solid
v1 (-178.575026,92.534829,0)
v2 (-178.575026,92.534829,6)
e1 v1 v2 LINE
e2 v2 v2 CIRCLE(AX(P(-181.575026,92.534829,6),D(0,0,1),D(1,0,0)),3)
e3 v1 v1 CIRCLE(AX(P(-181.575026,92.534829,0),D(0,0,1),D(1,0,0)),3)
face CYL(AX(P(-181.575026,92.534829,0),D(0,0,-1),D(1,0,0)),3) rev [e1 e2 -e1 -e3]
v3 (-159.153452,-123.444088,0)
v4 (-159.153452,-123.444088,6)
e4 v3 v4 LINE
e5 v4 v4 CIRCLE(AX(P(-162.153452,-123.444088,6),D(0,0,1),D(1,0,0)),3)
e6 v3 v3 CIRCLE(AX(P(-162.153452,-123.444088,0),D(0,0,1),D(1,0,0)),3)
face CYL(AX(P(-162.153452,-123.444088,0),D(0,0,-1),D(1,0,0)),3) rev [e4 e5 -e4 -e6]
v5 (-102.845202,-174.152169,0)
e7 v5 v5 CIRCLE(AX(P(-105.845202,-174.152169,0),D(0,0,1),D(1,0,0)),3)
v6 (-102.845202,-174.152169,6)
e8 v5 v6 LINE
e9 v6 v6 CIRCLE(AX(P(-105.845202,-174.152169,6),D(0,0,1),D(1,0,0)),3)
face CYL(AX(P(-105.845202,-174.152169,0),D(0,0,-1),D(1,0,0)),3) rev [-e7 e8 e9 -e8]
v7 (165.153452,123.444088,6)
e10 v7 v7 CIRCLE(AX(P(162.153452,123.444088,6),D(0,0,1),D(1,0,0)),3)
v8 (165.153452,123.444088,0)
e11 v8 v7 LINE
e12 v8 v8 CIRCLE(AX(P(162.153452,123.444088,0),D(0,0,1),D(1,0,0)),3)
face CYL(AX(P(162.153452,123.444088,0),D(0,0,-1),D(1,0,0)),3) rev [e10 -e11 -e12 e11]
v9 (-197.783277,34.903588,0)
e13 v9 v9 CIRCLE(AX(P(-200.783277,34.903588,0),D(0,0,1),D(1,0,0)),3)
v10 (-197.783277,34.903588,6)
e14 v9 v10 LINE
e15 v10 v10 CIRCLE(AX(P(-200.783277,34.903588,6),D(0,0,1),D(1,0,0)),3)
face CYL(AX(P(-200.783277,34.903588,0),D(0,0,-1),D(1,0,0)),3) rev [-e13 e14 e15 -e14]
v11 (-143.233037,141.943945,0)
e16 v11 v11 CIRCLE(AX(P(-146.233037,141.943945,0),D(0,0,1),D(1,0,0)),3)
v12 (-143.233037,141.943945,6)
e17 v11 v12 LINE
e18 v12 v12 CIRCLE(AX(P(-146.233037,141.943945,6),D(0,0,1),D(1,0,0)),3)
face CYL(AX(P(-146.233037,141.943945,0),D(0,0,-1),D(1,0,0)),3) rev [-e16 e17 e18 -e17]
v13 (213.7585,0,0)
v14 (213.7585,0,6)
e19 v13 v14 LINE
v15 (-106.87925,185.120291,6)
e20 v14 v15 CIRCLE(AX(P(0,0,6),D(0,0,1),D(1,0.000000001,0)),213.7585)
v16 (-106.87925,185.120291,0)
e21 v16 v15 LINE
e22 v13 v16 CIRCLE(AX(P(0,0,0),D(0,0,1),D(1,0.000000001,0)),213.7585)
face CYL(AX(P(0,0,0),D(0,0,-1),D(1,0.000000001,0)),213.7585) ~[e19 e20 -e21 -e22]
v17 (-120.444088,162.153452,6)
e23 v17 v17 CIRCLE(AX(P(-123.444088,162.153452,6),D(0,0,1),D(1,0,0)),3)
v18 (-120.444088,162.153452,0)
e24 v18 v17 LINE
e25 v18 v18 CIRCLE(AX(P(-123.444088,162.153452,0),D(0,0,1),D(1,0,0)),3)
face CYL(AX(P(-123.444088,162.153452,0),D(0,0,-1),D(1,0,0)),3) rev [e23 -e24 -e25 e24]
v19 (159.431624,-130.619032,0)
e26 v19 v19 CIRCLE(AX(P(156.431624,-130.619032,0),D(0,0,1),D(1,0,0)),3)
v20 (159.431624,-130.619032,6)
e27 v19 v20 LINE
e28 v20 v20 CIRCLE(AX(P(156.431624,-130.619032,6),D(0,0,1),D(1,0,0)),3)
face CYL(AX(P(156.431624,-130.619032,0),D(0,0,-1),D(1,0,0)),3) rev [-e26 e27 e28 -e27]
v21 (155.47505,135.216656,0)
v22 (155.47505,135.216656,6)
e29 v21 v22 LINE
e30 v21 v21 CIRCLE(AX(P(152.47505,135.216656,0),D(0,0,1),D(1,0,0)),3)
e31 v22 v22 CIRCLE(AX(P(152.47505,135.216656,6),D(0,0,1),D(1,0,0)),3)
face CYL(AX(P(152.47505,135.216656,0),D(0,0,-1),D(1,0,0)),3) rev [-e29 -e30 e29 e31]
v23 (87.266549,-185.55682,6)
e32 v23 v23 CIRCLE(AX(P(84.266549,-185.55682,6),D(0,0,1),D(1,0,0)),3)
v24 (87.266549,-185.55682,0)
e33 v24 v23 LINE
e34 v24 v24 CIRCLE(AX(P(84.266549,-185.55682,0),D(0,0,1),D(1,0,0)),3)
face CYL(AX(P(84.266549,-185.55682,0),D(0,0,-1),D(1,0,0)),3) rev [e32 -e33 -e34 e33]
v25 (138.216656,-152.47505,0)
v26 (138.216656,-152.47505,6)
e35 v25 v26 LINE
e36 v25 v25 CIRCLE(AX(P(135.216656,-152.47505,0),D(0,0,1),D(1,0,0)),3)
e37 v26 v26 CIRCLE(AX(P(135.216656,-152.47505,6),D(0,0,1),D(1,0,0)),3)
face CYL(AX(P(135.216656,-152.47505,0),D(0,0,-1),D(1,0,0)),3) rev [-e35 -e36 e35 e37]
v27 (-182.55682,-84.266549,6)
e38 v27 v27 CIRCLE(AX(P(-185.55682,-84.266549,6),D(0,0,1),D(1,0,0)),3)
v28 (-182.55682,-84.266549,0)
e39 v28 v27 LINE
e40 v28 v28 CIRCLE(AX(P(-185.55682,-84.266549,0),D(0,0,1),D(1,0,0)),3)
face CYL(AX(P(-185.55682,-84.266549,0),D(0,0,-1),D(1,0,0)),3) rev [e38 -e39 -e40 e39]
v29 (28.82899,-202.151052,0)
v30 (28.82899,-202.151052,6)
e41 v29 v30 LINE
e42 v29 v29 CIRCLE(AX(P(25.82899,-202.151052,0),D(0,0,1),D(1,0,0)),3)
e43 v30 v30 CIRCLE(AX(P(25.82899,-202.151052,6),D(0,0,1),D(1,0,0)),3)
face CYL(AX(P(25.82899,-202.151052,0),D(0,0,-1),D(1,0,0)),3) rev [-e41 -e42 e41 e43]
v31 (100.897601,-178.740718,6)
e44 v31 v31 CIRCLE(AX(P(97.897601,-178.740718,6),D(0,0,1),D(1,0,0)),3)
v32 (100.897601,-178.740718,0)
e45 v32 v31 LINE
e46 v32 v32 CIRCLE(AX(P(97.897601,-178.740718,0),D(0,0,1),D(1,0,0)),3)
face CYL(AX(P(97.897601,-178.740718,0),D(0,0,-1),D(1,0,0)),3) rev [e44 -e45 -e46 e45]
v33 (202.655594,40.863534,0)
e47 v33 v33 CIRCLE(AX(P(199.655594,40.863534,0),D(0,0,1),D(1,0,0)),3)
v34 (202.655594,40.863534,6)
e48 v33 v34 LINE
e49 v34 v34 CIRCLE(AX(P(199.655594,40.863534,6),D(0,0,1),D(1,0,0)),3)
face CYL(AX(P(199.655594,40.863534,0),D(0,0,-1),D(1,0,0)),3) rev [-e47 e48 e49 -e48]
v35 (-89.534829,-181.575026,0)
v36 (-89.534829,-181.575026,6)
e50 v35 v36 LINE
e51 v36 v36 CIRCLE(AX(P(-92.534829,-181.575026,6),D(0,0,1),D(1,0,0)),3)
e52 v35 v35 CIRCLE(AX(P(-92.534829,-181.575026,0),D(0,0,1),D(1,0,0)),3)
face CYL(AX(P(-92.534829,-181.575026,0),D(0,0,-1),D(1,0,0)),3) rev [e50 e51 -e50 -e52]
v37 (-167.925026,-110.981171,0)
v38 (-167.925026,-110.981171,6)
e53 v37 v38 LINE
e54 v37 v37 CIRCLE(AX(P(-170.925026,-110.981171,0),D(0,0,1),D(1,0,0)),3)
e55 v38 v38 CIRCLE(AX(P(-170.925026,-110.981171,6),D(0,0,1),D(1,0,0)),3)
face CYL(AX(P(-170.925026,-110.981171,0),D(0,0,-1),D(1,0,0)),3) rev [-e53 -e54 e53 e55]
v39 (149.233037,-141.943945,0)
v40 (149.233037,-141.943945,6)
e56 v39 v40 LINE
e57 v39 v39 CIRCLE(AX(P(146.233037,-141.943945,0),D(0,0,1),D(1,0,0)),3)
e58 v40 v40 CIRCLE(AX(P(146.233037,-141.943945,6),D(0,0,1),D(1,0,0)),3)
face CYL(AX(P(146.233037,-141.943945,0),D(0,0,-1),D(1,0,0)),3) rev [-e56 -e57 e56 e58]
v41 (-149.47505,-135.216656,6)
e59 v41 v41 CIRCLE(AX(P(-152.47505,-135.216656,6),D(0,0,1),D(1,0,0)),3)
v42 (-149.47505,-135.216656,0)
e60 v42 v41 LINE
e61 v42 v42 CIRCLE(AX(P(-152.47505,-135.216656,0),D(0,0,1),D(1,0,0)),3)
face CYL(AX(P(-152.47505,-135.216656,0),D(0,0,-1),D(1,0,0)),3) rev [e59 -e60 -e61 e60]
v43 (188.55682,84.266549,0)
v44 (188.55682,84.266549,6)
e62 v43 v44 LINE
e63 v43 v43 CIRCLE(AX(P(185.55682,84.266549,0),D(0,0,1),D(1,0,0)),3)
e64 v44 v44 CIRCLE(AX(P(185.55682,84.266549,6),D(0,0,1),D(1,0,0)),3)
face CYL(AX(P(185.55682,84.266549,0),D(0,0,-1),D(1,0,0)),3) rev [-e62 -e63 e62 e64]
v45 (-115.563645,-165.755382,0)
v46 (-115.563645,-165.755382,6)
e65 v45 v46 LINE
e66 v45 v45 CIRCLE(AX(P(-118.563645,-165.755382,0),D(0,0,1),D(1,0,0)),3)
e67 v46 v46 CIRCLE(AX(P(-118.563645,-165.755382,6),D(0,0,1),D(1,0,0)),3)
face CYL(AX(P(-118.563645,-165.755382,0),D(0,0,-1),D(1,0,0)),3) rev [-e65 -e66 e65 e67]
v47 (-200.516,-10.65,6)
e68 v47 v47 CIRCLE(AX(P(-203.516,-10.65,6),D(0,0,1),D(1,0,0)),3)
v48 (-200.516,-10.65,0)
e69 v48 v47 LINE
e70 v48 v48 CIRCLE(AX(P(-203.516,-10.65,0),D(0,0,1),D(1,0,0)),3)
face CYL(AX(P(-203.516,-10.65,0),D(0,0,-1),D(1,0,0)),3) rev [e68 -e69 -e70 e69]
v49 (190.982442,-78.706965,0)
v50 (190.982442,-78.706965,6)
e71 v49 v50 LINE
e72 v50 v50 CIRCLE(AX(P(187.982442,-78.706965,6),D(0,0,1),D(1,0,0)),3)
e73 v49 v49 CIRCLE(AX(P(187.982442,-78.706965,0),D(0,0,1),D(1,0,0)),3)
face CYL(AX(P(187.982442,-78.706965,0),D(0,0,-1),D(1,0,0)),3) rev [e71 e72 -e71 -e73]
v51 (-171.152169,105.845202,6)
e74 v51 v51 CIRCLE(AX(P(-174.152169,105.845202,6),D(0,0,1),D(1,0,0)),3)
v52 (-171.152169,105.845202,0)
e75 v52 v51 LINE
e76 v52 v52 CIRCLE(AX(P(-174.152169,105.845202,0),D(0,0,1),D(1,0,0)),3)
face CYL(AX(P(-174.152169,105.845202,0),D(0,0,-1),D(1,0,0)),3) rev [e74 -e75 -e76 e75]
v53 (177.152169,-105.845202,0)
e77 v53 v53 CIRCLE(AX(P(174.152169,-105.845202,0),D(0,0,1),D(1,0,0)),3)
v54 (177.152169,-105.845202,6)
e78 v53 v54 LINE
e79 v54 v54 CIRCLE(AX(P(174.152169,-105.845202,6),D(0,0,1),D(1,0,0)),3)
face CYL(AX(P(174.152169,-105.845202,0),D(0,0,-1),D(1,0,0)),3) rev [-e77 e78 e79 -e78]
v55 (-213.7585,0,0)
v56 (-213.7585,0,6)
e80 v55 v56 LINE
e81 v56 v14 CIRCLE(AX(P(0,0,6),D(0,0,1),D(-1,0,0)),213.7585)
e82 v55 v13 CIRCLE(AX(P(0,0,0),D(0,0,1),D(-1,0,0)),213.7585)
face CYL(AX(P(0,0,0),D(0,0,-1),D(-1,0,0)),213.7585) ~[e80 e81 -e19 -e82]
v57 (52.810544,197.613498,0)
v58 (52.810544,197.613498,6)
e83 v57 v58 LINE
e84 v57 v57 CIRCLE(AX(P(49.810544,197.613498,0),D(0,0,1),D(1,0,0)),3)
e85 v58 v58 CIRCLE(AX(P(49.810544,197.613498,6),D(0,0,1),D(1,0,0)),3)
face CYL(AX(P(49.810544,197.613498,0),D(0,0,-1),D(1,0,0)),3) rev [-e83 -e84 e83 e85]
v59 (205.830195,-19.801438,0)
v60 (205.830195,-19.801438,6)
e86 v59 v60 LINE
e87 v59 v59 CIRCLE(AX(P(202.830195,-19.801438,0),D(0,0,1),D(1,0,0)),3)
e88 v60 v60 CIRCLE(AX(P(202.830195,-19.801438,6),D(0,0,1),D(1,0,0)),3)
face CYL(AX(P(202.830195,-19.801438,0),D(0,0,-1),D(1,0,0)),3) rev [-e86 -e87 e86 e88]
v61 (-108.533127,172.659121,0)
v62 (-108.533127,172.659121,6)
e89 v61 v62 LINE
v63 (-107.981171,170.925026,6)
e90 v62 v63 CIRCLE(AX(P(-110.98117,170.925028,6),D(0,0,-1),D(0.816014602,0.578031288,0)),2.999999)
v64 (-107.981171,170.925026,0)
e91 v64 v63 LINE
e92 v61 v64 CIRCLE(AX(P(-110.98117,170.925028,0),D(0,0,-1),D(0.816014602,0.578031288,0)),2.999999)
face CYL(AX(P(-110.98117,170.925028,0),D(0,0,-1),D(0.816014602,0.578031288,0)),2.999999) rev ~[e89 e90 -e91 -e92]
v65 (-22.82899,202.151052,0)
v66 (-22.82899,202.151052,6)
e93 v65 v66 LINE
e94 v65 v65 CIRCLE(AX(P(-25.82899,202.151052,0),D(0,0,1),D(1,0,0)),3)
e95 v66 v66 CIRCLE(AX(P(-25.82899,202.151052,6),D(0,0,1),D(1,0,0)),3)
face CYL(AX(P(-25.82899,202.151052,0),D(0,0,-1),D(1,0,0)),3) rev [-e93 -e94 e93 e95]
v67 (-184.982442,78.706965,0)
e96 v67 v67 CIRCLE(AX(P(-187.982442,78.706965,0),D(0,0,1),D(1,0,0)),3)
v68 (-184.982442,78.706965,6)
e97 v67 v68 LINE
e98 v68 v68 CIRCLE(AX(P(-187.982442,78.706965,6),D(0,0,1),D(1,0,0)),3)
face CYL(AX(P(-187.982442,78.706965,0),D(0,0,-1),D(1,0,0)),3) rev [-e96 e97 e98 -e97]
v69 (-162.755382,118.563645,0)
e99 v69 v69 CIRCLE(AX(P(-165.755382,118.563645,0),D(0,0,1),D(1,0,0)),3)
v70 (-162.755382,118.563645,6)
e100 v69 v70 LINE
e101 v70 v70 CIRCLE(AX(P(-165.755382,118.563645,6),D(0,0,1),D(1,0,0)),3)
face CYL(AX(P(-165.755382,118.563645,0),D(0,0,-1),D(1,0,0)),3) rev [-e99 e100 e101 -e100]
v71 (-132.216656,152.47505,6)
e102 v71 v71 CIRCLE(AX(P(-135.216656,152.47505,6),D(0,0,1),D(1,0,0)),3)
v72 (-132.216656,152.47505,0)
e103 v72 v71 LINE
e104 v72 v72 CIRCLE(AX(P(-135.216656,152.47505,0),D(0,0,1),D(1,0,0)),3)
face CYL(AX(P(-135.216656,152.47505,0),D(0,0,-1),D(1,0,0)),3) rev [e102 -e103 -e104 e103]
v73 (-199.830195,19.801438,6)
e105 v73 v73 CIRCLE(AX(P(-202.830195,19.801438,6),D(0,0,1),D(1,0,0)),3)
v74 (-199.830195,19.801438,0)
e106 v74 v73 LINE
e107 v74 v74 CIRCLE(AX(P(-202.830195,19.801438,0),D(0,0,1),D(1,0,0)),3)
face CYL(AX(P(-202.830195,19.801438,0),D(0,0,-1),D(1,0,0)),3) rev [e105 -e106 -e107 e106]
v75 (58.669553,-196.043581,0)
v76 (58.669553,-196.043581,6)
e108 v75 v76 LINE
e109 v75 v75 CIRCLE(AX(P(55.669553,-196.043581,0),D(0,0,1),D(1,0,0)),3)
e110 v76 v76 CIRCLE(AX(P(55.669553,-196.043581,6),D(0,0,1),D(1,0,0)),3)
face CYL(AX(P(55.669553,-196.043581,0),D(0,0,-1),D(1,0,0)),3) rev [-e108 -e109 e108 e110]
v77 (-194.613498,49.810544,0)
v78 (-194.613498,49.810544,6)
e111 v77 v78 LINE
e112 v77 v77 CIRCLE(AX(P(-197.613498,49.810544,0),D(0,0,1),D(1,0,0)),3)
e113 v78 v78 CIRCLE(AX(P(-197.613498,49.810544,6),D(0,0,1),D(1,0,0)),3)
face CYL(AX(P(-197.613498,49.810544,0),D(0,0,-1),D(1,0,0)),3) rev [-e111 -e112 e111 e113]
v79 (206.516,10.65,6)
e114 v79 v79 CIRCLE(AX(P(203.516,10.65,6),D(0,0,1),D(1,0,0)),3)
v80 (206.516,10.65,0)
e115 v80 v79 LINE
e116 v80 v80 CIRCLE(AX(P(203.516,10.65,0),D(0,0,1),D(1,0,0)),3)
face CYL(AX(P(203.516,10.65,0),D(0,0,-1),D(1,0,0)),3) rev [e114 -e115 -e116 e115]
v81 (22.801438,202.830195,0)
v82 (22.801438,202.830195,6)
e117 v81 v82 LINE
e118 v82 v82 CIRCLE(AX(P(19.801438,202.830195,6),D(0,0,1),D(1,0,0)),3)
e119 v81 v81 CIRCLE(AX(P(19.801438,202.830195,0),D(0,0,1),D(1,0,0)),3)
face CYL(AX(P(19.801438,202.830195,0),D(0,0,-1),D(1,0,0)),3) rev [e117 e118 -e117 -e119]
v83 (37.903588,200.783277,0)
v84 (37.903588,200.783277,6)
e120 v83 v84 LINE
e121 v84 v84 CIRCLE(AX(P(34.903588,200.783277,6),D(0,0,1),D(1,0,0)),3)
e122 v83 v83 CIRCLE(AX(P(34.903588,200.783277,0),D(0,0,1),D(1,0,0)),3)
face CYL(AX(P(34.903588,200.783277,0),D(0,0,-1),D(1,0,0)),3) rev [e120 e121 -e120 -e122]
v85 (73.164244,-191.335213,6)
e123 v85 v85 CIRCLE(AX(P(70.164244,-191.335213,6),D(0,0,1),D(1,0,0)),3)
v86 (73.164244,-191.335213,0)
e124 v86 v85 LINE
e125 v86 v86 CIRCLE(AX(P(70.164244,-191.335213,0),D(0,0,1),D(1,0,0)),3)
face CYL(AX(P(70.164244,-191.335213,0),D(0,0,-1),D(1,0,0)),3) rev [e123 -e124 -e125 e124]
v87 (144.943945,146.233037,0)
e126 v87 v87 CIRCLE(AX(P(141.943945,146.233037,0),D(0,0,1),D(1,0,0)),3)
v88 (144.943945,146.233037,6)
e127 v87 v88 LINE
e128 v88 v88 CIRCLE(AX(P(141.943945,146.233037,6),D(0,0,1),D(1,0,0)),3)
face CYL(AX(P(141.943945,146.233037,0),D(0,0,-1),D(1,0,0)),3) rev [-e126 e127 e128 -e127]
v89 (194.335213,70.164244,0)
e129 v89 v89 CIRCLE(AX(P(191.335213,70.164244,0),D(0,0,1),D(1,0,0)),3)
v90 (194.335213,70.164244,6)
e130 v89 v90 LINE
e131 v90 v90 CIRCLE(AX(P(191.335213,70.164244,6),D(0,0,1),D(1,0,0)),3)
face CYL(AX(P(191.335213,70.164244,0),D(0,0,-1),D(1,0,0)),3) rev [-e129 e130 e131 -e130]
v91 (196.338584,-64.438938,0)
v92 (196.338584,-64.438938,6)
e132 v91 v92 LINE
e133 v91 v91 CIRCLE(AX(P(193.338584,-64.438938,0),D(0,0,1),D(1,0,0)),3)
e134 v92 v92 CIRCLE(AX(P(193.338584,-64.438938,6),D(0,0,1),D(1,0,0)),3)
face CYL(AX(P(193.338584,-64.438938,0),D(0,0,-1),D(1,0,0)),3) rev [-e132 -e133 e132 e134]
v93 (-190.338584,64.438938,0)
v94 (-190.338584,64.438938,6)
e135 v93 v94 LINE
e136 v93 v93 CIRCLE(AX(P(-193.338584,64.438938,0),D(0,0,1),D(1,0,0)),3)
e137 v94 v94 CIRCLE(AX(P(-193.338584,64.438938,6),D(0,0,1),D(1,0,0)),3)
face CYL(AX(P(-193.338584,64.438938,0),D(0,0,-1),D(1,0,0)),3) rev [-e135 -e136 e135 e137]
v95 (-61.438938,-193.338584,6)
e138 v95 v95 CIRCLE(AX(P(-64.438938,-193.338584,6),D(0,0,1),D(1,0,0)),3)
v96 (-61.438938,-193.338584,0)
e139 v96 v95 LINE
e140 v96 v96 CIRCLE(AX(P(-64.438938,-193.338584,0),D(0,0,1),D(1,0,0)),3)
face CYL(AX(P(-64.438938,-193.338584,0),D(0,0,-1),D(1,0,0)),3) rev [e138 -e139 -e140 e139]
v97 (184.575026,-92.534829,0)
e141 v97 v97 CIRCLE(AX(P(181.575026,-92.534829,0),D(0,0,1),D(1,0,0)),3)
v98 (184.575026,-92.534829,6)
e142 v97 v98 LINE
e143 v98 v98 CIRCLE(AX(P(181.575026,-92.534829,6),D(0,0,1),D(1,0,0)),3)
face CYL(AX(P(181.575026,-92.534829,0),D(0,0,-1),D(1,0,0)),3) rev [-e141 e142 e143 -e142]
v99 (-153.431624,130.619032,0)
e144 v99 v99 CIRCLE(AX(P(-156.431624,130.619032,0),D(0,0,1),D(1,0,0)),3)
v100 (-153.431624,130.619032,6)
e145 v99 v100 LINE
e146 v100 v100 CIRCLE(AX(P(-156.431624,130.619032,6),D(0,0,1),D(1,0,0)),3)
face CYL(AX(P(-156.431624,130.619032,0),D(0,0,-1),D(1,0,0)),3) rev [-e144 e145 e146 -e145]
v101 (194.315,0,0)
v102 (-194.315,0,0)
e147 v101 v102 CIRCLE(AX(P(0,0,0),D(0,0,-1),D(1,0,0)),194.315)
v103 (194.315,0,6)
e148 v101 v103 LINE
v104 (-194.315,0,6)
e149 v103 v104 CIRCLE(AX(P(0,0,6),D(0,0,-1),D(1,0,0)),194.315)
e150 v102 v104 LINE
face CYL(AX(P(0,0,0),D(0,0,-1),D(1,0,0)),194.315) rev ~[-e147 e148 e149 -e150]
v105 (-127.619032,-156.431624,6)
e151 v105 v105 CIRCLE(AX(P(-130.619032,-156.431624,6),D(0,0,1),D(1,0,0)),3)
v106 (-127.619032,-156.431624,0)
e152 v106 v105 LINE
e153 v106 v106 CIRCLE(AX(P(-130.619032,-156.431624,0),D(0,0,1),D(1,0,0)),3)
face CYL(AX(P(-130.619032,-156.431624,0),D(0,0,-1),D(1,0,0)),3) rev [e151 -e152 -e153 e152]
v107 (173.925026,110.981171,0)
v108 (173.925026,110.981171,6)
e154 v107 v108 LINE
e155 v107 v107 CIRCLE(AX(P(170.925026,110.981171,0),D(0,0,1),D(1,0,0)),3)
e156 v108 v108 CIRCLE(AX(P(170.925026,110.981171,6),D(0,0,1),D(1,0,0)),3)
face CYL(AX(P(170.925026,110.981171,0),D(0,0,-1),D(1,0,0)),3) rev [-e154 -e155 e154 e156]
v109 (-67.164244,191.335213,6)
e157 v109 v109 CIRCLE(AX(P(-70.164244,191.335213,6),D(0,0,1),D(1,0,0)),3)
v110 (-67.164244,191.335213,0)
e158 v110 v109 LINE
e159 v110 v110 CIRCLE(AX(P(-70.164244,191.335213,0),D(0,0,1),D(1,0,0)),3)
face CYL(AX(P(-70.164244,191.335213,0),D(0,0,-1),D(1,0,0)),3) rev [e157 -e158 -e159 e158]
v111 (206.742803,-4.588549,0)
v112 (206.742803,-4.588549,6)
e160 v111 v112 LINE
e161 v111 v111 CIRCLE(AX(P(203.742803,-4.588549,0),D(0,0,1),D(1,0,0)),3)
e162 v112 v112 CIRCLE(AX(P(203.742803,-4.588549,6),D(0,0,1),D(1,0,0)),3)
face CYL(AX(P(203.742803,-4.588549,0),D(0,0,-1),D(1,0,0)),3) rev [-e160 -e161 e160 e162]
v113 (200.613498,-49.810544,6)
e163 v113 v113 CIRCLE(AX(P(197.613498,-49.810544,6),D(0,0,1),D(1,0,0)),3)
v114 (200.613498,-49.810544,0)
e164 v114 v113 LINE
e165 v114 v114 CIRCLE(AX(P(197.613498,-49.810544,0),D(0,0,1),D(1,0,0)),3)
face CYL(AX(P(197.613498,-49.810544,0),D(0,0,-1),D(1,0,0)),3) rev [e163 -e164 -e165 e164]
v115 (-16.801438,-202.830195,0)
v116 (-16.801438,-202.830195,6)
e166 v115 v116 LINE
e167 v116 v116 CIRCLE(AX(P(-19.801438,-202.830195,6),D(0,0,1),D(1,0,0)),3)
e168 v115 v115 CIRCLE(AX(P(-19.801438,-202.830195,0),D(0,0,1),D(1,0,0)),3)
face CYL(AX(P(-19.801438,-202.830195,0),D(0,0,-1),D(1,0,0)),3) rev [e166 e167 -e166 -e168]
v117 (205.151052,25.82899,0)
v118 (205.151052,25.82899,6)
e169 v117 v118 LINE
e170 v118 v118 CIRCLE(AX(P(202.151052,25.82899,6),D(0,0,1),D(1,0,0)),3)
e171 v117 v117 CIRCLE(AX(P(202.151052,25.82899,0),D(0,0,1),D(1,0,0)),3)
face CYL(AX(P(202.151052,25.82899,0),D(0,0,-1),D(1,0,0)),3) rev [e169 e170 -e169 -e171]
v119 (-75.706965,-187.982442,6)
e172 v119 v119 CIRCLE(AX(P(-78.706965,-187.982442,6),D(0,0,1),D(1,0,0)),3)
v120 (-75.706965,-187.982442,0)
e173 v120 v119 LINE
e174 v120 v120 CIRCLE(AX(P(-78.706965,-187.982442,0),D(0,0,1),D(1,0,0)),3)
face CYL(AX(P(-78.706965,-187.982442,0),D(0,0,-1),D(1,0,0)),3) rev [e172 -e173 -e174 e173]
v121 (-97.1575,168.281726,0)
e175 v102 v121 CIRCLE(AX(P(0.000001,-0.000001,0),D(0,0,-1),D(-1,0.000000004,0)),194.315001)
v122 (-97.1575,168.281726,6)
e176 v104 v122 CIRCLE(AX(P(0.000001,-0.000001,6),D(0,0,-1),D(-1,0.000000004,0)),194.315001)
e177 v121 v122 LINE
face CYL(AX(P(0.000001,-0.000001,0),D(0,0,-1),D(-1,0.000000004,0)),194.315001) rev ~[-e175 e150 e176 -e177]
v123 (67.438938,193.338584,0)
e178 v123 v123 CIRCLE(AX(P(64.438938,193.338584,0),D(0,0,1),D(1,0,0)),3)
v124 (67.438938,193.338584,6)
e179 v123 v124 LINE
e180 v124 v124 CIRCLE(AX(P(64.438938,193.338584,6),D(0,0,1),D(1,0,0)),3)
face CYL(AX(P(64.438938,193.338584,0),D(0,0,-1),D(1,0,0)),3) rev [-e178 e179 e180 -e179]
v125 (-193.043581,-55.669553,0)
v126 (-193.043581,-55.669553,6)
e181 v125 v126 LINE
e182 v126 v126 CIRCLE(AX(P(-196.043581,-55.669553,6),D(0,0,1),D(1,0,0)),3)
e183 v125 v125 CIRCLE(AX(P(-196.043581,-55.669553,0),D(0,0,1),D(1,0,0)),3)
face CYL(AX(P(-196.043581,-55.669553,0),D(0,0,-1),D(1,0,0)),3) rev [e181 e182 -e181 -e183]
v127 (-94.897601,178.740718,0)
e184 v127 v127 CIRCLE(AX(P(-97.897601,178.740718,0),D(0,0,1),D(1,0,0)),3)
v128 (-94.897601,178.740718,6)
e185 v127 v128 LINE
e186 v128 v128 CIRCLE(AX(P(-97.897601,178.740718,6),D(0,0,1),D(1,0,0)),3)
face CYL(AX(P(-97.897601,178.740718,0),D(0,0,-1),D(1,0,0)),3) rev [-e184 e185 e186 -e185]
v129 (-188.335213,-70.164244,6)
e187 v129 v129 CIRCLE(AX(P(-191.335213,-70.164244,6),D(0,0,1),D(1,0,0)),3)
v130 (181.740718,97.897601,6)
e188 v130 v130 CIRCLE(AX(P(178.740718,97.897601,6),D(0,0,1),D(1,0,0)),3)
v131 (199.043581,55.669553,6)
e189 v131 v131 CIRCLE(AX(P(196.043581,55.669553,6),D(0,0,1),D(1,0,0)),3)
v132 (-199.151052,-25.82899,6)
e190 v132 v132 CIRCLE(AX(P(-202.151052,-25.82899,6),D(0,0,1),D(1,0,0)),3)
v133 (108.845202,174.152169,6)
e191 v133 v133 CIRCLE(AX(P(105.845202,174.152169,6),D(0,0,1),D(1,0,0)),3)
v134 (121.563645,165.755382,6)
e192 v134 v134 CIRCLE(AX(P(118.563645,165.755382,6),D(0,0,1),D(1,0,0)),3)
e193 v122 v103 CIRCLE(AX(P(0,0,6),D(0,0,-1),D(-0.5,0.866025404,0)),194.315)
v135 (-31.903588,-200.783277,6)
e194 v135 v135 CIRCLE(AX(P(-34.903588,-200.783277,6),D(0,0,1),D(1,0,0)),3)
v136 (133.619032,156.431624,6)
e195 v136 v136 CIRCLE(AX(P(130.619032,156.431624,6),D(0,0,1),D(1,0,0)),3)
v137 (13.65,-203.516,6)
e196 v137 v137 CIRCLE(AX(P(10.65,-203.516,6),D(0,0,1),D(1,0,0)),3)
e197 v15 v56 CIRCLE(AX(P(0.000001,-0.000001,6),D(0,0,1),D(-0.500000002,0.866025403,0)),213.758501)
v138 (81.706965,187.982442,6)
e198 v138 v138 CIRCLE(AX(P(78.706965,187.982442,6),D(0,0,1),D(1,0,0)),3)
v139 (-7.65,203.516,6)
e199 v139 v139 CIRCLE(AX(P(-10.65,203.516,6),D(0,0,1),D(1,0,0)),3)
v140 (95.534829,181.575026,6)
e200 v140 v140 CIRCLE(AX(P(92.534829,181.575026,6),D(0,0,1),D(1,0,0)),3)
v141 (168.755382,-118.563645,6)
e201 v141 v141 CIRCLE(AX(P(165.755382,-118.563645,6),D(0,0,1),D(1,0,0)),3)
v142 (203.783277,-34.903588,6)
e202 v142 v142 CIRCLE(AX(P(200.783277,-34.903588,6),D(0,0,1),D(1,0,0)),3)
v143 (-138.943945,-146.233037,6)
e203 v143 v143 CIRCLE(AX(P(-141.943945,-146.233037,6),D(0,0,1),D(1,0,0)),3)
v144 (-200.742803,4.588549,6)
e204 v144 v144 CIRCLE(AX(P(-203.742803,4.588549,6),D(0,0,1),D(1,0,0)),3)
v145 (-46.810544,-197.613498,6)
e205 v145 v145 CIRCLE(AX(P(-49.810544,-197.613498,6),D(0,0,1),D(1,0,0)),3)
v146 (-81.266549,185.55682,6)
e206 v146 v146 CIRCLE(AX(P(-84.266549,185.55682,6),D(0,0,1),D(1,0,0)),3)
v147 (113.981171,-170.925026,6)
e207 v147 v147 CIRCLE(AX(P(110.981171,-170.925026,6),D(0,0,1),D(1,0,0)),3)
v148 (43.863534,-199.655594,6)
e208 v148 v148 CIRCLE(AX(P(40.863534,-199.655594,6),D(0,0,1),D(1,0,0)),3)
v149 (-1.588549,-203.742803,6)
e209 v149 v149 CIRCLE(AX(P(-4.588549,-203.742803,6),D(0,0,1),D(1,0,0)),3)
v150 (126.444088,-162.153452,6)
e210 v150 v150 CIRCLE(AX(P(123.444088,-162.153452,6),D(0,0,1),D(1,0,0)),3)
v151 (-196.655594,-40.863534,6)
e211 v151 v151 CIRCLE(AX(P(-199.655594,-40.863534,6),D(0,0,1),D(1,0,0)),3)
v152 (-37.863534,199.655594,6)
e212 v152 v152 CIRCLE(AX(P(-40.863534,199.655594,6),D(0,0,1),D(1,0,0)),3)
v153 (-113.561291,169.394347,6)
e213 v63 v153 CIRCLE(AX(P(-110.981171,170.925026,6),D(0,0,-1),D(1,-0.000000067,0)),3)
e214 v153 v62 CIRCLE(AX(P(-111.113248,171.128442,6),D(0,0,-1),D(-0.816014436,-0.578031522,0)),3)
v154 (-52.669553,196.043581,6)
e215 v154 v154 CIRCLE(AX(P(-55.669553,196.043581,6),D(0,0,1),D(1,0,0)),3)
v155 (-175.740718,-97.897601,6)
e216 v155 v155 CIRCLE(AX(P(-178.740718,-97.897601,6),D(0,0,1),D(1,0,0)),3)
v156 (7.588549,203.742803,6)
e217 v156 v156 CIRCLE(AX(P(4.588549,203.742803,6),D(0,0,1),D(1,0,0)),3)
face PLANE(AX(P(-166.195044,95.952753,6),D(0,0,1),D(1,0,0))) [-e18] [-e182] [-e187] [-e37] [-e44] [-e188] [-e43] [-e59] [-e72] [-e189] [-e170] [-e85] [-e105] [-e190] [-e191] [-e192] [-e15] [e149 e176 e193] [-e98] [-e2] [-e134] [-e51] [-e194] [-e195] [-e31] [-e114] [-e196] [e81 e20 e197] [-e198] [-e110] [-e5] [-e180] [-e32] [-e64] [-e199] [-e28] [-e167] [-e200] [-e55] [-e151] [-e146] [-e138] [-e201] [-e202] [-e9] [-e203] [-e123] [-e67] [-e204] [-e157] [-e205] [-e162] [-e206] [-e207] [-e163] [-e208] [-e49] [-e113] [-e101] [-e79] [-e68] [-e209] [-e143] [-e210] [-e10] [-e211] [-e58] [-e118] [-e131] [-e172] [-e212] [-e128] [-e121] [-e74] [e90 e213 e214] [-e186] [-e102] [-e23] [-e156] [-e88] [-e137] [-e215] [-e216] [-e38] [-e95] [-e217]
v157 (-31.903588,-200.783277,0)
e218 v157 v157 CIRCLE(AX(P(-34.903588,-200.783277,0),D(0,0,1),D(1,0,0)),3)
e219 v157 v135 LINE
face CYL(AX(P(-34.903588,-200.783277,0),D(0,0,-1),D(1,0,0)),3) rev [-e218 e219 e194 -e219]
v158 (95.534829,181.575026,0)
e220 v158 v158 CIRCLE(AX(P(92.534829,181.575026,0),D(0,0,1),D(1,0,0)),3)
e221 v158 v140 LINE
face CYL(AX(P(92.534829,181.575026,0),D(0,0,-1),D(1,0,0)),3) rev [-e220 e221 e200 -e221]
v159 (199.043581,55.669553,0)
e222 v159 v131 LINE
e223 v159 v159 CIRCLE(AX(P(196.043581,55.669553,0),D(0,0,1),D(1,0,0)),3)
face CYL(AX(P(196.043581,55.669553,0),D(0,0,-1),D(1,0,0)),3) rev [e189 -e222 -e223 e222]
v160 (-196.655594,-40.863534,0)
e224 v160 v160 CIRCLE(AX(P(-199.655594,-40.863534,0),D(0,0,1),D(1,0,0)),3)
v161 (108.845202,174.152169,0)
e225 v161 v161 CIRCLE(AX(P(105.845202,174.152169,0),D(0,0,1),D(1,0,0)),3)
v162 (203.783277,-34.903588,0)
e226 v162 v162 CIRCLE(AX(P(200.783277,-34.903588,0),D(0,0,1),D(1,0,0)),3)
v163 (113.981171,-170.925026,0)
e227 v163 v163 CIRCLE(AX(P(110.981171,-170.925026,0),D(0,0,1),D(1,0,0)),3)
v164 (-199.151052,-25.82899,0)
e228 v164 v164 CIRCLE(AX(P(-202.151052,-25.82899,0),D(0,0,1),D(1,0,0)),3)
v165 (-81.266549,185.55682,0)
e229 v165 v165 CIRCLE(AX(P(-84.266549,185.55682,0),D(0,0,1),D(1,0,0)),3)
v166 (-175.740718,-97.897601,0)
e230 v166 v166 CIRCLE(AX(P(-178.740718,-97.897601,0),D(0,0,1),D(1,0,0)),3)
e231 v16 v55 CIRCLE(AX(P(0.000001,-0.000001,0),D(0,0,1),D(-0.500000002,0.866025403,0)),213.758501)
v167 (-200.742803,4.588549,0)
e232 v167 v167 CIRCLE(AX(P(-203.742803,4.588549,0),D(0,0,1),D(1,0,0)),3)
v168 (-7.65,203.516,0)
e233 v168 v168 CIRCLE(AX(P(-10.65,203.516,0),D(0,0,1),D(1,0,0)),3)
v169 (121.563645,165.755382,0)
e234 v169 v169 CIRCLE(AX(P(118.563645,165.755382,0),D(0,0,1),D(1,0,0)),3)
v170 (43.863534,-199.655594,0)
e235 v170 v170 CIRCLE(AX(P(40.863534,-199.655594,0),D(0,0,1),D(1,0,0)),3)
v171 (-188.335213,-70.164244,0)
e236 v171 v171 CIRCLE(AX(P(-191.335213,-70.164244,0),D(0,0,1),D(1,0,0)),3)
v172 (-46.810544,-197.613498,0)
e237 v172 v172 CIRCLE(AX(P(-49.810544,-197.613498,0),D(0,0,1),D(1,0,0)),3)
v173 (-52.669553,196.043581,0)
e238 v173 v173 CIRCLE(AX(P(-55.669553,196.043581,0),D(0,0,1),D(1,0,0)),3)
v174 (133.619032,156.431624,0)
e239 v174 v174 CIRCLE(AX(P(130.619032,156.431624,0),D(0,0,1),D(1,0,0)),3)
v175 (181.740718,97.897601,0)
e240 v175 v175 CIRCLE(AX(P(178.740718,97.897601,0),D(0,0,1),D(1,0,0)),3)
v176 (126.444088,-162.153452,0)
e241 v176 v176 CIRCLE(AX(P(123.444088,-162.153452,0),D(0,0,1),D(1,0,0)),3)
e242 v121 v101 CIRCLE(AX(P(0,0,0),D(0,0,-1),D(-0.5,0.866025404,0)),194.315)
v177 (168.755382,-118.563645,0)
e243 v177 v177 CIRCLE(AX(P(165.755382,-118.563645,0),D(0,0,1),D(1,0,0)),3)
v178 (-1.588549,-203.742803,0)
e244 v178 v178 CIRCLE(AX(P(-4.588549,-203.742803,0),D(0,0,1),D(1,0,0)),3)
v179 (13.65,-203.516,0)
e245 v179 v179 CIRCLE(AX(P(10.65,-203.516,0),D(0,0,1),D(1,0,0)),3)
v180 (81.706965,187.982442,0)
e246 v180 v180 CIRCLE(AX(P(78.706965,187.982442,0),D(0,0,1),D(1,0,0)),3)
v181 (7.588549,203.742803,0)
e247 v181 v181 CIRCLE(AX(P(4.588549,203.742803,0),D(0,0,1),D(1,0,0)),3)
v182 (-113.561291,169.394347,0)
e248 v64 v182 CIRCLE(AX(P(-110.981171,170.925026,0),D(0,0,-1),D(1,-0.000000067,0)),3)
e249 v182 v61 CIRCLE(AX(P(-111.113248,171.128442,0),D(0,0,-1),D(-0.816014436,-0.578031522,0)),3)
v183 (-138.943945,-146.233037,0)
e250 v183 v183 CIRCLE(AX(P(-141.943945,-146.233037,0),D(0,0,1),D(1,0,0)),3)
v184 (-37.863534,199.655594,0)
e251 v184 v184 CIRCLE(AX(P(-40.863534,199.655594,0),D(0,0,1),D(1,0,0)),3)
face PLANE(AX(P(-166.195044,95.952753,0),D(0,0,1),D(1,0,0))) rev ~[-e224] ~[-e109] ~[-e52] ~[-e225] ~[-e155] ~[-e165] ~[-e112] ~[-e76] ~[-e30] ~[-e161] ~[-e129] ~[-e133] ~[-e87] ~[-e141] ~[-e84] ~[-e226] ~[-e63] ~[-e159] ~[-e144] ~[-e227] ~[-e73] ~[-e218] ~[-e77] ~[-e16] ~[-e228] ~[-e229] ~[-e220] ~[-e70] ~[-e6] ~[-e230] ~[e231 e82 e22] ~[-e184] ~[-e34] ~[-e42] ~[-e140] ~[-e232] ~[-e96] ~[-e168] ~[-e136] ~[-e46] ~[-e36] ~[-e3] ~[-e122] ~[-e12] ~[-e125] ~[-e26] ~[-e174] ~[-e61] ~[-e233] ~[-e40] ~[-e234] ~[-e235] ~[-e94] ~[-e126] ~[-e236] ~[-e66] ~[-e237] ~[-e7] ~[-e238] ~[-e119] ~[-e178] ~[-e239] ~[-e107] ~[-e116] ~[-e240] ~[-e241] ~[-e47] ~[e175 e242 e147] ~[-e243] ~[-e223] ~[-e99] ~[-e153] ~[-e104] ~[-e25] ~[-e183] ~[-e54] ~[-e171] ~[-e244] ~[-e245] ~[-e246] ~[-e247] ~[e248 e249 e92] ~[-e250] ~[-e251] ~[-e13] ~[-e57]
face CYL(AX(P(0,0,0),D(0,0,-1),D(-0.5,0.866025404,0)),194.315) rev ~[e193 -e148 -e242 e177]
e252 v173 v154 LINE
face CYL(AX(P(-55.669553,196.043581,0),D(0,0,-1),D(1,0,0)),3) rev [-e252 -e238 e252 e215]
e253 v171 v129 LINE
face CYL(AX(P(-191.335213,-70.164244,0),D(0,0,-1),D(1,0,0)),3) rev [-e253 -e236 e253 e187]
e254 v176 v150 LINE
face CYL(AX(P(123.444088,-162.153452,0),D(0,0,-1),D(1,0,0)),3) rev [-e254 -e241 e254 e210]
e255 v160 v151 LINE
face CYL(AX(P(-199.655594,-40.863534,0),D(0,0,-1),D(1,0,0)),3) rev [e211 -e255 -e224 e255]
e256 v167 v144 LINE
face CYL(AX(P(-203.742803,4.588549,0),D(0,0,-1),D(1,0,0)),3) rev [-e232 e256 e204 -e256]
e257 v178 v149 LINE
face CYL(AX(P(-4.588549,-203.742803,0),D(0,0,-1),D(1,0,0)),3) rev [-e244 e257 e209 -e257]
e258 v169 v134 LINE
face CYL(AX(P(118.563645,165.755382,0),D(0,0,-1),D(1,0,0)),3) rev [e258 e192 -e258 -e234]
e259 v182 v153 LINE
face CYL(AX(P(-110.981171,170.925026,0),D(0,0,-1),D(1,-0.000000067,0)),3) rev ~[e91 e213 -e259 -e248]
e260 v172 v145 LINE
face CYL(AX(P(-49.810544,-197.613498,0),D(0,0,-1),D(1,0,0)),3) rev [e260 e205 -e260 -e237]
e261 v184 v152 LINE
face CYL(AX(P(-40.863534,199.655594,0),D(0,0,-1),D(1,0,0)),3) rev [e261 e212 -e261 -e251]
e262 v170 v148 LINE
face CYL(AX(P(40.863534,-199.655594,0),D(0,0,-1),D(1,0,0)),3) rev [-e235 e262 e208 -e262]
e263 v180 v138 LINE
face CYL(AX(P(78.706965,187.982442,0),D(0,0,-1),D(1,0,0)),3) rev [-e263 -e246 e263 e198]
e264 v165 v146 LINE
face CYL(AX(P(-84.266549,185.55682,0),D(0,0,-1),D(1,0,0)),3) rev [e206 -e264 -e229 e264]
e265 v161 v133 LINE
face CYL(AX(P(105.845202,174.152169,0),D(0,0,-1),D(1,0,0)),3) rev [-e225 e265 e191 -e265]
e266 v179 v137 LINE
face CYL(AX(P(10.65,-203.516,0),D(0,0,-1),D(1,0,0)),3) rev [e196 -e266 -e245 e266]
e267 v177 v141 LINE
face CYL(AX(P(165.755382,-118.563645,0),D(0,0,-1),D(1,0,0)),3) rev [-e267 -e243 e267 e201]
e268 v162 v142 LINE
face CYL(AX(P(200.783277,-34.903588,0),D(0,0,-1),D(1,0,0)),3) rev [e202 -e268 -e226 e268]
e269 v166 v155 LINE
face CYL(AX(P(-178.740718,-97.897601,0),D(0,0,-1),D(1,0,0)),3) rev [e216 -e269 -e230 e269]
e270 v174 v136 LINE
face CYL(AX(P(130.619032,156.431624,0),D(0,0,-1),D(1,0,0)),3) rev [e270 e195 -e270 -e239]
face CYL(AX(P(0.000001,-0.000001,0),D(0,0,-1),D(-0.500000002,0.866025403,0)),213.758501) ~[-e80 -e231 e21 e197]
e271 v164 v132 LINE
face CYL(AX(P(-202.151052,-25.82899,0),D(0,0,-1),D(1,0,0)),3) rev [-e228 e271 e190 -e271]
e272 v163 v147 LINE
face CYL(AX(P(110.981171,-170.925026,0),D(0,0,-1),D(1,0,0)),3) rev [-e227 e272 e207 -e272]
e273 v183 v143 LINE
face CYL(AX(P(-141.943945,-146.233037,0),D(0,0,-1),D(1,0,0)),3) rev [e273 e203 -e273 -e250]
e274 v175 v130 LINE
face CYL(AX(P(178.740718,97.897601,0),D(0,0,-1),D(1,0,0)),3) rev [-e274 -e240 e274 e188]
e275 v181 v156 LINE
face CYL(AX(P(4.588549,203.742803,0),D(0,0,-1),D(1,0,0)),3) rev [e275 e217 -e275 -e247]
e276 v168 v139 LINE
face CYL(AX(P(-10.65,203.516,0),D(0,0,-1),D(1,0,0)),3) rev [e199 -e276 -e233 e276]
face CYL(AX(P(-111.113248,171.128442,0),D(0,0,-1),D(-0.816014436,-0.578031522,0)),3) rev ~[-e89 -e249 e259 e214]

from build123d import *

# Parameters (mm, degrees)
F0_R     = 3
F1_DEPTH = 6


with BuildPart() as f1:
    # F0 (on Top) → F1 (new body)
    with BuildSketch(Plane.XY):
        with BuildLine():
            Line((-101.758, 176.250026), (-106.87925, 185.120291))
            ThreePointArc((-106.87925, 185.120291), (-185.120291, 106.87925), (-213.7585, 0))
            Line((-213.7585, 0), (-194.315, 0))
            ThreePointArc((-194.315, 0), (-168.281726, 97.1575), (-97.1575, 168.281726))
            Line((-97.1575, 168.281726), (-101.758, 176.250026))
        make_face()
        with Locations((-203.742803, 4.588549)):
            Circle(F0_R, mode=Mode.SUBTRACT)
        with Locations((-202.830195, 19.801438)):
            Circle(F0_R, mode=Mode.SUBTRACT)
        with Locations((-200.783277, 34.903588)):
            Circle(F0_R, mode=Mode.SUBTRACT)
        with Locations((-197.613498, 49.810544)):
            Circle(F0_R, mode=Mode.SUBTRACT)
        with Locations((-193.338584, 64.438938)):
            Circle(F0_R, mode=Mode.SUBTRACT)
        with Locations((-187.982442, 78.706965)):
            Circle(F0_R, mode=Mode.SUBTRACT)
        with Locations((-181.575026, 92.534829)):
            Circle(F0_R, mode=Mode.SUBTRACT)
        with Locations((-174.152169, 105.845202)):
            Circle(F0_R, mode=Mode.SUBTRACT)
        with Locations((-165.755382, 118.563645)):
            Circle(F0_R, mode=Mode.SUBTRACT)
        with Locations((-156.431624, 130.619032)):
            Circle(F0_R, mode=Mode.SUBTRACT)
        with Locations((-146.233037, 141.943945)):
            Circle(F0_R, mode=Mode.SUBTRACT)
        with Locations((-135.216656, 152.47505)):
            Circle(F0_R, mode=Mode.SUBTRACT)
        with Locations((-123.444088, 162.153452)):
            Circle(F0_R, mode=Mode.SUBTRACT)
        with BuildLine():
            ThreePointArc((-108.533127, 172.659121), (-108.122488, 171.834935), (-107.981171, 170.925026))
            ThreePointArc((-107.981171, 170.925026), (-110.187559, 168.0319), (-113.561291, 169.394347))
            ThreePointArc((-113.561291, 169.394347), (-112.74697, 173.64458), (-108.533127, 172.659121))
        make_face(mode=Mode.SUBTRACT)
        with BuildLine():
            ThreePointArc((-213.7585, 0), (0, -213.7585), (213.7585, 0))
            ThreePointArc((213.7585, 0), (106.87925, 185.120291), (-106.87925, 185.120291))
            Line((-106.87925, 185.120291), (-101.758, 176.250026))
            Line((-101.758, 176.250026), (-97.1575, 168.281726))
            ThreePointArc((-97.1575, 168.281726), (97.1575, 168.281726), (194.315, 0))
            ThreePointArc((194.315, 0), (0, -194.315), (-194.315, 0))
            Line((-194.315, 0), (-213.7585, 0))
        make_face()
        with Locations((-118.563645, -165.755382)):
            Circle(F0_R, mode=Mode.SUBTRACT)
        with Locations((-162.153452, -123.444088)):
            Circle(F0_R, mode=Mode.SUBTRACT)
        with Locations((-170.925026, -110.981171)):
            Circle(F0_R, mode=Mode.SUBTRACT)
        with Locations((-152.47505, -135.216656)):
            Circle(F0_R, mode=Mode.SUBTRACT)
        with Locations((-141.943945, -146.233037)):
            Circle(F0_R, mode=Mode.SUBTRACT)
        with Locations((-130.619032, -156.431624)):
            Circle(F0_R, mode=Mode.SUBTRACT)
        with Locations((-78.706965, -187.982442)):
            Circle(F0_R, mode=Mode.SUBTRACT)
        with Locations((-64.438938, -193.338584)):
            Circle(F0_R, mode=Mode.SUBTRACT)
        with Locations((-105.845202, -174.152169)):
            Circle(F0_R, mode=Mode.SUBTRACT)
        with Locations((-92.534829, -181.575026)):
            Circle(F0_R, mode=Mode.SUBTRACT)
        with Locations((-34.903588, -200.783277)):
            Circle(F0_R, mode=Mode.SUBTRACT)
        with Locations((-49.810544, -197.613498)):
            Circle(F0_R, mode=Mode.SUBTRACT)
        with Locations((-19.801438, -202.830195)):
            Circle(F0_R, mode=Mode.SUBTRACT)
        with Locations((-4.588549, -203.742803)):
            Circle(F0_R, mode=Mode.SUBTRACT)
        with Locations((-178.740718, -97.897601)):
            Circle(F0_R, mode=Mode.SUBTRACT)
        with Locations((-185.55682, -84.266549)):
            Circle(F0_R, mode=Mode.SUBTRACT)
        with Locations((-191.335213, -70.164244)):
            Circle(F0_R, mode=Mode.SUBTRACT)
        with Locations((-196.043581, -55.669553)):
            Circle(F0_R, mode=Mode.SUBTRACT)
        with Locations((-199.655594, -40.863534)):
            Circle(F0_R, mode=Mode.SUBTRACT)
        with Locations((-202.151052, -25.82899)):
            Circle(F0_R, mode=Mode.SUBTRACT)
        with Locations((-203.516, -10.65)):
            Circle(F0_R, mode=Mode.SUBTRACT)
        with Locations((10.65, -203.516)):
            Circle(F0_R, mode=Mode.SUBTRACT)
        with Locations((25.82899, -202.151052)):
            Circle(F0_R, mode=Mode.SUBTRACT)
        with Locations((40.863534, -199.655594)):
            Circle(F0_R, mode=Mode.SUBTRACT)
        with Locations((55.669553, -196.043581)):
            Circle(F0_R, mode=Mode.SUBTRACT)
        with Locations((70.164244, -191.335213)):
            Circle(F0_R, mode=Mode.SUBTRACT)
        with Locations((84.266549, -185.55682)):
            Circle(F0_R, mode=Mode.SUBTRACT)
        with Locations((97.897601, -178.740718)):
            Circle(F0_R, mode=Mode.SUBTRACT)
        with Locations((110.981171, -170.925026)):
            Circle(F0_R, mode=Mode.SUBTRACT)
        with Locations((123.444088, -162.153452)):
            Circle(F0_R, mode=Mode.SUBTRACT)
        with Locations((135.216656, -152.47505)):
            Circle(F0_R, mode=Mode.SUBTRACT)
        with Locations((146.233037, -141.943945)):
            Circle(F0_R, mode=Mode.SUBTRACT)
        with Locations((156.431624, -130.619032)):
            Circle(F0_R, mode=Mode.SUBTRACT)
        with Locations((165.755382, -118.563645)):
            Circle(F0_R, mode=Mode.SUBTRACT)
        with Locations((174.152169, -105.845202)):
            Circle(F0_R, mode=Mode.SUBTRACT)
        with Locations((181.575026, -92.534829)):
            Circle(F0_R, mode=Mode.SUBTRACT)
        with Locations((187.982442, -78.706965)):
            Circle(F0_R, mode=Mode.SUBTRACT)
        with Locations((193.338584, -64.438938)):
            Circle(F0_R, mode=Mode.SUBTRACT)
        with Locations((197.613498, -49.810544)):
            Circle(F0_R, mode=Mode.SUBTRACT)
        with Locations((200.783277, -34.903588)):
            Circle(F0_R, mode=Mode.SUBTRACT)
        with Locations((202.830195, -19.801438)):
            Circle(F0_R, mode=Mode.SUBTRACT)
        with Locations((203.742803, -4.588549)):
            Circle(F0_R, mode=Mode.SUBTRACT)
        with Locations((-97.897601, 178.740718)):
            Circle(F0_R, mode=Mode.SUBTRACT)
        with Locations((-84.266549, 185.55682)):
            Circle(F0_R, mode=Mode.SUBTRACT)
        with Locations((-70.164244, 191.335213)):
            Circle(F0_R, mode=Mode.SUBTRACT)
        with Locations((-55.669553, 196.043581)):
            Circle(F0_R, mode=Mode.SUBTRACT)
        with Locations((-40.863534, 199.655594)):
            Circle(F0_R, mode=Mode.SUBTRACT)
        with Locations((-25.82899, 202.151052)):
            Circle(F0_R, mode=Mode.SUBTRACT)
        with Locations((-10.65, 203.516)):
            Circle(F0_R, mode=Mode.SUBTRACT)
        with Locations((203.516, 10.65)):
            Circle(F0_R, mode=Mode.SUBTRACT)
        with Locations((202.151052, 25.82899)):
            Circle(F0_R, mode=Mode.SUBTRACT)
        with Locations((199.655594, 40.863534)):
            Circle(F0_R, mode=Mode.SUBTRACT)
        with Locations((196.043581, 55.669553)):
            Circle(F0_R, mode=Mode.SUBTRACT)
        with Locations((191.335213, 70.164244)):
            Circle(F0_R, mode=Mode.SUBTRACT)
        with Locations((185.55682, 84.266549)):
            Circle(F0_R, mode=Mode.SUBTRACT)
        with Locations((178.740718, 97.897601)):
            Circle(F0_R, mode=Mode.SUBTRACT)
        with Locations((4.588549, 203.742803)):
            Circle(F0_R, mode=Mode.SUBTRACT)
        with Locations((19.801438, 202.830195)):
            Circle(F0_R, mode=Mode.SUBTRACT)
        with Locations((49.810544, 197.613498)):
            Circle(F0_R, mode=Mode.SUBTRACT)
        with Locations((34.903588, 200.783277)):
            Circle(F0_R, mode=Mode.SUBTRACT)
        with Locations((92.534829, 181.575026)):
            Circle(F0_R, mode=Mode.SUBTRACT)
        with Locations((105.845202, 174.152169)):
            Circle(F0_R, mode=Mode.SUBTRACT)
        with Locations((64.438938, 193.338584)):
            Circle(F0_R, mode=Mode.SUBTRACT)
        with Locations((78.706965, 187.982442)):
            Circle(F0_R, mode=Mode.SUBTRACT)
        with Locations((130.619032, 156.431624)):
            Circle(F0_R, mode=Mode.SUBTRACT)
        with Locations((141.943945, 146.233037)):
            Circle(F0_R, mode=Mode.SUBTRACT)
        with Locations((152.47505, 135.216656)):
            Circle(F0_R, mode=Mode.SUBTRACT)
        with Locations((170.925026, 110.981171)):
            Circle(F0_R, mode=Mode.SUBTRACT)
        with Locations((162.153452, 123.444088)):
            Circle(F0_R, mode=Mode.SUBTRACT)
        with Locations((118.563645, 165.755382)):
            Circle(F0_R, mode=Mode.SUBTRACT)
    extrude(amount=F1_DEPTH)


solid = f1.part
